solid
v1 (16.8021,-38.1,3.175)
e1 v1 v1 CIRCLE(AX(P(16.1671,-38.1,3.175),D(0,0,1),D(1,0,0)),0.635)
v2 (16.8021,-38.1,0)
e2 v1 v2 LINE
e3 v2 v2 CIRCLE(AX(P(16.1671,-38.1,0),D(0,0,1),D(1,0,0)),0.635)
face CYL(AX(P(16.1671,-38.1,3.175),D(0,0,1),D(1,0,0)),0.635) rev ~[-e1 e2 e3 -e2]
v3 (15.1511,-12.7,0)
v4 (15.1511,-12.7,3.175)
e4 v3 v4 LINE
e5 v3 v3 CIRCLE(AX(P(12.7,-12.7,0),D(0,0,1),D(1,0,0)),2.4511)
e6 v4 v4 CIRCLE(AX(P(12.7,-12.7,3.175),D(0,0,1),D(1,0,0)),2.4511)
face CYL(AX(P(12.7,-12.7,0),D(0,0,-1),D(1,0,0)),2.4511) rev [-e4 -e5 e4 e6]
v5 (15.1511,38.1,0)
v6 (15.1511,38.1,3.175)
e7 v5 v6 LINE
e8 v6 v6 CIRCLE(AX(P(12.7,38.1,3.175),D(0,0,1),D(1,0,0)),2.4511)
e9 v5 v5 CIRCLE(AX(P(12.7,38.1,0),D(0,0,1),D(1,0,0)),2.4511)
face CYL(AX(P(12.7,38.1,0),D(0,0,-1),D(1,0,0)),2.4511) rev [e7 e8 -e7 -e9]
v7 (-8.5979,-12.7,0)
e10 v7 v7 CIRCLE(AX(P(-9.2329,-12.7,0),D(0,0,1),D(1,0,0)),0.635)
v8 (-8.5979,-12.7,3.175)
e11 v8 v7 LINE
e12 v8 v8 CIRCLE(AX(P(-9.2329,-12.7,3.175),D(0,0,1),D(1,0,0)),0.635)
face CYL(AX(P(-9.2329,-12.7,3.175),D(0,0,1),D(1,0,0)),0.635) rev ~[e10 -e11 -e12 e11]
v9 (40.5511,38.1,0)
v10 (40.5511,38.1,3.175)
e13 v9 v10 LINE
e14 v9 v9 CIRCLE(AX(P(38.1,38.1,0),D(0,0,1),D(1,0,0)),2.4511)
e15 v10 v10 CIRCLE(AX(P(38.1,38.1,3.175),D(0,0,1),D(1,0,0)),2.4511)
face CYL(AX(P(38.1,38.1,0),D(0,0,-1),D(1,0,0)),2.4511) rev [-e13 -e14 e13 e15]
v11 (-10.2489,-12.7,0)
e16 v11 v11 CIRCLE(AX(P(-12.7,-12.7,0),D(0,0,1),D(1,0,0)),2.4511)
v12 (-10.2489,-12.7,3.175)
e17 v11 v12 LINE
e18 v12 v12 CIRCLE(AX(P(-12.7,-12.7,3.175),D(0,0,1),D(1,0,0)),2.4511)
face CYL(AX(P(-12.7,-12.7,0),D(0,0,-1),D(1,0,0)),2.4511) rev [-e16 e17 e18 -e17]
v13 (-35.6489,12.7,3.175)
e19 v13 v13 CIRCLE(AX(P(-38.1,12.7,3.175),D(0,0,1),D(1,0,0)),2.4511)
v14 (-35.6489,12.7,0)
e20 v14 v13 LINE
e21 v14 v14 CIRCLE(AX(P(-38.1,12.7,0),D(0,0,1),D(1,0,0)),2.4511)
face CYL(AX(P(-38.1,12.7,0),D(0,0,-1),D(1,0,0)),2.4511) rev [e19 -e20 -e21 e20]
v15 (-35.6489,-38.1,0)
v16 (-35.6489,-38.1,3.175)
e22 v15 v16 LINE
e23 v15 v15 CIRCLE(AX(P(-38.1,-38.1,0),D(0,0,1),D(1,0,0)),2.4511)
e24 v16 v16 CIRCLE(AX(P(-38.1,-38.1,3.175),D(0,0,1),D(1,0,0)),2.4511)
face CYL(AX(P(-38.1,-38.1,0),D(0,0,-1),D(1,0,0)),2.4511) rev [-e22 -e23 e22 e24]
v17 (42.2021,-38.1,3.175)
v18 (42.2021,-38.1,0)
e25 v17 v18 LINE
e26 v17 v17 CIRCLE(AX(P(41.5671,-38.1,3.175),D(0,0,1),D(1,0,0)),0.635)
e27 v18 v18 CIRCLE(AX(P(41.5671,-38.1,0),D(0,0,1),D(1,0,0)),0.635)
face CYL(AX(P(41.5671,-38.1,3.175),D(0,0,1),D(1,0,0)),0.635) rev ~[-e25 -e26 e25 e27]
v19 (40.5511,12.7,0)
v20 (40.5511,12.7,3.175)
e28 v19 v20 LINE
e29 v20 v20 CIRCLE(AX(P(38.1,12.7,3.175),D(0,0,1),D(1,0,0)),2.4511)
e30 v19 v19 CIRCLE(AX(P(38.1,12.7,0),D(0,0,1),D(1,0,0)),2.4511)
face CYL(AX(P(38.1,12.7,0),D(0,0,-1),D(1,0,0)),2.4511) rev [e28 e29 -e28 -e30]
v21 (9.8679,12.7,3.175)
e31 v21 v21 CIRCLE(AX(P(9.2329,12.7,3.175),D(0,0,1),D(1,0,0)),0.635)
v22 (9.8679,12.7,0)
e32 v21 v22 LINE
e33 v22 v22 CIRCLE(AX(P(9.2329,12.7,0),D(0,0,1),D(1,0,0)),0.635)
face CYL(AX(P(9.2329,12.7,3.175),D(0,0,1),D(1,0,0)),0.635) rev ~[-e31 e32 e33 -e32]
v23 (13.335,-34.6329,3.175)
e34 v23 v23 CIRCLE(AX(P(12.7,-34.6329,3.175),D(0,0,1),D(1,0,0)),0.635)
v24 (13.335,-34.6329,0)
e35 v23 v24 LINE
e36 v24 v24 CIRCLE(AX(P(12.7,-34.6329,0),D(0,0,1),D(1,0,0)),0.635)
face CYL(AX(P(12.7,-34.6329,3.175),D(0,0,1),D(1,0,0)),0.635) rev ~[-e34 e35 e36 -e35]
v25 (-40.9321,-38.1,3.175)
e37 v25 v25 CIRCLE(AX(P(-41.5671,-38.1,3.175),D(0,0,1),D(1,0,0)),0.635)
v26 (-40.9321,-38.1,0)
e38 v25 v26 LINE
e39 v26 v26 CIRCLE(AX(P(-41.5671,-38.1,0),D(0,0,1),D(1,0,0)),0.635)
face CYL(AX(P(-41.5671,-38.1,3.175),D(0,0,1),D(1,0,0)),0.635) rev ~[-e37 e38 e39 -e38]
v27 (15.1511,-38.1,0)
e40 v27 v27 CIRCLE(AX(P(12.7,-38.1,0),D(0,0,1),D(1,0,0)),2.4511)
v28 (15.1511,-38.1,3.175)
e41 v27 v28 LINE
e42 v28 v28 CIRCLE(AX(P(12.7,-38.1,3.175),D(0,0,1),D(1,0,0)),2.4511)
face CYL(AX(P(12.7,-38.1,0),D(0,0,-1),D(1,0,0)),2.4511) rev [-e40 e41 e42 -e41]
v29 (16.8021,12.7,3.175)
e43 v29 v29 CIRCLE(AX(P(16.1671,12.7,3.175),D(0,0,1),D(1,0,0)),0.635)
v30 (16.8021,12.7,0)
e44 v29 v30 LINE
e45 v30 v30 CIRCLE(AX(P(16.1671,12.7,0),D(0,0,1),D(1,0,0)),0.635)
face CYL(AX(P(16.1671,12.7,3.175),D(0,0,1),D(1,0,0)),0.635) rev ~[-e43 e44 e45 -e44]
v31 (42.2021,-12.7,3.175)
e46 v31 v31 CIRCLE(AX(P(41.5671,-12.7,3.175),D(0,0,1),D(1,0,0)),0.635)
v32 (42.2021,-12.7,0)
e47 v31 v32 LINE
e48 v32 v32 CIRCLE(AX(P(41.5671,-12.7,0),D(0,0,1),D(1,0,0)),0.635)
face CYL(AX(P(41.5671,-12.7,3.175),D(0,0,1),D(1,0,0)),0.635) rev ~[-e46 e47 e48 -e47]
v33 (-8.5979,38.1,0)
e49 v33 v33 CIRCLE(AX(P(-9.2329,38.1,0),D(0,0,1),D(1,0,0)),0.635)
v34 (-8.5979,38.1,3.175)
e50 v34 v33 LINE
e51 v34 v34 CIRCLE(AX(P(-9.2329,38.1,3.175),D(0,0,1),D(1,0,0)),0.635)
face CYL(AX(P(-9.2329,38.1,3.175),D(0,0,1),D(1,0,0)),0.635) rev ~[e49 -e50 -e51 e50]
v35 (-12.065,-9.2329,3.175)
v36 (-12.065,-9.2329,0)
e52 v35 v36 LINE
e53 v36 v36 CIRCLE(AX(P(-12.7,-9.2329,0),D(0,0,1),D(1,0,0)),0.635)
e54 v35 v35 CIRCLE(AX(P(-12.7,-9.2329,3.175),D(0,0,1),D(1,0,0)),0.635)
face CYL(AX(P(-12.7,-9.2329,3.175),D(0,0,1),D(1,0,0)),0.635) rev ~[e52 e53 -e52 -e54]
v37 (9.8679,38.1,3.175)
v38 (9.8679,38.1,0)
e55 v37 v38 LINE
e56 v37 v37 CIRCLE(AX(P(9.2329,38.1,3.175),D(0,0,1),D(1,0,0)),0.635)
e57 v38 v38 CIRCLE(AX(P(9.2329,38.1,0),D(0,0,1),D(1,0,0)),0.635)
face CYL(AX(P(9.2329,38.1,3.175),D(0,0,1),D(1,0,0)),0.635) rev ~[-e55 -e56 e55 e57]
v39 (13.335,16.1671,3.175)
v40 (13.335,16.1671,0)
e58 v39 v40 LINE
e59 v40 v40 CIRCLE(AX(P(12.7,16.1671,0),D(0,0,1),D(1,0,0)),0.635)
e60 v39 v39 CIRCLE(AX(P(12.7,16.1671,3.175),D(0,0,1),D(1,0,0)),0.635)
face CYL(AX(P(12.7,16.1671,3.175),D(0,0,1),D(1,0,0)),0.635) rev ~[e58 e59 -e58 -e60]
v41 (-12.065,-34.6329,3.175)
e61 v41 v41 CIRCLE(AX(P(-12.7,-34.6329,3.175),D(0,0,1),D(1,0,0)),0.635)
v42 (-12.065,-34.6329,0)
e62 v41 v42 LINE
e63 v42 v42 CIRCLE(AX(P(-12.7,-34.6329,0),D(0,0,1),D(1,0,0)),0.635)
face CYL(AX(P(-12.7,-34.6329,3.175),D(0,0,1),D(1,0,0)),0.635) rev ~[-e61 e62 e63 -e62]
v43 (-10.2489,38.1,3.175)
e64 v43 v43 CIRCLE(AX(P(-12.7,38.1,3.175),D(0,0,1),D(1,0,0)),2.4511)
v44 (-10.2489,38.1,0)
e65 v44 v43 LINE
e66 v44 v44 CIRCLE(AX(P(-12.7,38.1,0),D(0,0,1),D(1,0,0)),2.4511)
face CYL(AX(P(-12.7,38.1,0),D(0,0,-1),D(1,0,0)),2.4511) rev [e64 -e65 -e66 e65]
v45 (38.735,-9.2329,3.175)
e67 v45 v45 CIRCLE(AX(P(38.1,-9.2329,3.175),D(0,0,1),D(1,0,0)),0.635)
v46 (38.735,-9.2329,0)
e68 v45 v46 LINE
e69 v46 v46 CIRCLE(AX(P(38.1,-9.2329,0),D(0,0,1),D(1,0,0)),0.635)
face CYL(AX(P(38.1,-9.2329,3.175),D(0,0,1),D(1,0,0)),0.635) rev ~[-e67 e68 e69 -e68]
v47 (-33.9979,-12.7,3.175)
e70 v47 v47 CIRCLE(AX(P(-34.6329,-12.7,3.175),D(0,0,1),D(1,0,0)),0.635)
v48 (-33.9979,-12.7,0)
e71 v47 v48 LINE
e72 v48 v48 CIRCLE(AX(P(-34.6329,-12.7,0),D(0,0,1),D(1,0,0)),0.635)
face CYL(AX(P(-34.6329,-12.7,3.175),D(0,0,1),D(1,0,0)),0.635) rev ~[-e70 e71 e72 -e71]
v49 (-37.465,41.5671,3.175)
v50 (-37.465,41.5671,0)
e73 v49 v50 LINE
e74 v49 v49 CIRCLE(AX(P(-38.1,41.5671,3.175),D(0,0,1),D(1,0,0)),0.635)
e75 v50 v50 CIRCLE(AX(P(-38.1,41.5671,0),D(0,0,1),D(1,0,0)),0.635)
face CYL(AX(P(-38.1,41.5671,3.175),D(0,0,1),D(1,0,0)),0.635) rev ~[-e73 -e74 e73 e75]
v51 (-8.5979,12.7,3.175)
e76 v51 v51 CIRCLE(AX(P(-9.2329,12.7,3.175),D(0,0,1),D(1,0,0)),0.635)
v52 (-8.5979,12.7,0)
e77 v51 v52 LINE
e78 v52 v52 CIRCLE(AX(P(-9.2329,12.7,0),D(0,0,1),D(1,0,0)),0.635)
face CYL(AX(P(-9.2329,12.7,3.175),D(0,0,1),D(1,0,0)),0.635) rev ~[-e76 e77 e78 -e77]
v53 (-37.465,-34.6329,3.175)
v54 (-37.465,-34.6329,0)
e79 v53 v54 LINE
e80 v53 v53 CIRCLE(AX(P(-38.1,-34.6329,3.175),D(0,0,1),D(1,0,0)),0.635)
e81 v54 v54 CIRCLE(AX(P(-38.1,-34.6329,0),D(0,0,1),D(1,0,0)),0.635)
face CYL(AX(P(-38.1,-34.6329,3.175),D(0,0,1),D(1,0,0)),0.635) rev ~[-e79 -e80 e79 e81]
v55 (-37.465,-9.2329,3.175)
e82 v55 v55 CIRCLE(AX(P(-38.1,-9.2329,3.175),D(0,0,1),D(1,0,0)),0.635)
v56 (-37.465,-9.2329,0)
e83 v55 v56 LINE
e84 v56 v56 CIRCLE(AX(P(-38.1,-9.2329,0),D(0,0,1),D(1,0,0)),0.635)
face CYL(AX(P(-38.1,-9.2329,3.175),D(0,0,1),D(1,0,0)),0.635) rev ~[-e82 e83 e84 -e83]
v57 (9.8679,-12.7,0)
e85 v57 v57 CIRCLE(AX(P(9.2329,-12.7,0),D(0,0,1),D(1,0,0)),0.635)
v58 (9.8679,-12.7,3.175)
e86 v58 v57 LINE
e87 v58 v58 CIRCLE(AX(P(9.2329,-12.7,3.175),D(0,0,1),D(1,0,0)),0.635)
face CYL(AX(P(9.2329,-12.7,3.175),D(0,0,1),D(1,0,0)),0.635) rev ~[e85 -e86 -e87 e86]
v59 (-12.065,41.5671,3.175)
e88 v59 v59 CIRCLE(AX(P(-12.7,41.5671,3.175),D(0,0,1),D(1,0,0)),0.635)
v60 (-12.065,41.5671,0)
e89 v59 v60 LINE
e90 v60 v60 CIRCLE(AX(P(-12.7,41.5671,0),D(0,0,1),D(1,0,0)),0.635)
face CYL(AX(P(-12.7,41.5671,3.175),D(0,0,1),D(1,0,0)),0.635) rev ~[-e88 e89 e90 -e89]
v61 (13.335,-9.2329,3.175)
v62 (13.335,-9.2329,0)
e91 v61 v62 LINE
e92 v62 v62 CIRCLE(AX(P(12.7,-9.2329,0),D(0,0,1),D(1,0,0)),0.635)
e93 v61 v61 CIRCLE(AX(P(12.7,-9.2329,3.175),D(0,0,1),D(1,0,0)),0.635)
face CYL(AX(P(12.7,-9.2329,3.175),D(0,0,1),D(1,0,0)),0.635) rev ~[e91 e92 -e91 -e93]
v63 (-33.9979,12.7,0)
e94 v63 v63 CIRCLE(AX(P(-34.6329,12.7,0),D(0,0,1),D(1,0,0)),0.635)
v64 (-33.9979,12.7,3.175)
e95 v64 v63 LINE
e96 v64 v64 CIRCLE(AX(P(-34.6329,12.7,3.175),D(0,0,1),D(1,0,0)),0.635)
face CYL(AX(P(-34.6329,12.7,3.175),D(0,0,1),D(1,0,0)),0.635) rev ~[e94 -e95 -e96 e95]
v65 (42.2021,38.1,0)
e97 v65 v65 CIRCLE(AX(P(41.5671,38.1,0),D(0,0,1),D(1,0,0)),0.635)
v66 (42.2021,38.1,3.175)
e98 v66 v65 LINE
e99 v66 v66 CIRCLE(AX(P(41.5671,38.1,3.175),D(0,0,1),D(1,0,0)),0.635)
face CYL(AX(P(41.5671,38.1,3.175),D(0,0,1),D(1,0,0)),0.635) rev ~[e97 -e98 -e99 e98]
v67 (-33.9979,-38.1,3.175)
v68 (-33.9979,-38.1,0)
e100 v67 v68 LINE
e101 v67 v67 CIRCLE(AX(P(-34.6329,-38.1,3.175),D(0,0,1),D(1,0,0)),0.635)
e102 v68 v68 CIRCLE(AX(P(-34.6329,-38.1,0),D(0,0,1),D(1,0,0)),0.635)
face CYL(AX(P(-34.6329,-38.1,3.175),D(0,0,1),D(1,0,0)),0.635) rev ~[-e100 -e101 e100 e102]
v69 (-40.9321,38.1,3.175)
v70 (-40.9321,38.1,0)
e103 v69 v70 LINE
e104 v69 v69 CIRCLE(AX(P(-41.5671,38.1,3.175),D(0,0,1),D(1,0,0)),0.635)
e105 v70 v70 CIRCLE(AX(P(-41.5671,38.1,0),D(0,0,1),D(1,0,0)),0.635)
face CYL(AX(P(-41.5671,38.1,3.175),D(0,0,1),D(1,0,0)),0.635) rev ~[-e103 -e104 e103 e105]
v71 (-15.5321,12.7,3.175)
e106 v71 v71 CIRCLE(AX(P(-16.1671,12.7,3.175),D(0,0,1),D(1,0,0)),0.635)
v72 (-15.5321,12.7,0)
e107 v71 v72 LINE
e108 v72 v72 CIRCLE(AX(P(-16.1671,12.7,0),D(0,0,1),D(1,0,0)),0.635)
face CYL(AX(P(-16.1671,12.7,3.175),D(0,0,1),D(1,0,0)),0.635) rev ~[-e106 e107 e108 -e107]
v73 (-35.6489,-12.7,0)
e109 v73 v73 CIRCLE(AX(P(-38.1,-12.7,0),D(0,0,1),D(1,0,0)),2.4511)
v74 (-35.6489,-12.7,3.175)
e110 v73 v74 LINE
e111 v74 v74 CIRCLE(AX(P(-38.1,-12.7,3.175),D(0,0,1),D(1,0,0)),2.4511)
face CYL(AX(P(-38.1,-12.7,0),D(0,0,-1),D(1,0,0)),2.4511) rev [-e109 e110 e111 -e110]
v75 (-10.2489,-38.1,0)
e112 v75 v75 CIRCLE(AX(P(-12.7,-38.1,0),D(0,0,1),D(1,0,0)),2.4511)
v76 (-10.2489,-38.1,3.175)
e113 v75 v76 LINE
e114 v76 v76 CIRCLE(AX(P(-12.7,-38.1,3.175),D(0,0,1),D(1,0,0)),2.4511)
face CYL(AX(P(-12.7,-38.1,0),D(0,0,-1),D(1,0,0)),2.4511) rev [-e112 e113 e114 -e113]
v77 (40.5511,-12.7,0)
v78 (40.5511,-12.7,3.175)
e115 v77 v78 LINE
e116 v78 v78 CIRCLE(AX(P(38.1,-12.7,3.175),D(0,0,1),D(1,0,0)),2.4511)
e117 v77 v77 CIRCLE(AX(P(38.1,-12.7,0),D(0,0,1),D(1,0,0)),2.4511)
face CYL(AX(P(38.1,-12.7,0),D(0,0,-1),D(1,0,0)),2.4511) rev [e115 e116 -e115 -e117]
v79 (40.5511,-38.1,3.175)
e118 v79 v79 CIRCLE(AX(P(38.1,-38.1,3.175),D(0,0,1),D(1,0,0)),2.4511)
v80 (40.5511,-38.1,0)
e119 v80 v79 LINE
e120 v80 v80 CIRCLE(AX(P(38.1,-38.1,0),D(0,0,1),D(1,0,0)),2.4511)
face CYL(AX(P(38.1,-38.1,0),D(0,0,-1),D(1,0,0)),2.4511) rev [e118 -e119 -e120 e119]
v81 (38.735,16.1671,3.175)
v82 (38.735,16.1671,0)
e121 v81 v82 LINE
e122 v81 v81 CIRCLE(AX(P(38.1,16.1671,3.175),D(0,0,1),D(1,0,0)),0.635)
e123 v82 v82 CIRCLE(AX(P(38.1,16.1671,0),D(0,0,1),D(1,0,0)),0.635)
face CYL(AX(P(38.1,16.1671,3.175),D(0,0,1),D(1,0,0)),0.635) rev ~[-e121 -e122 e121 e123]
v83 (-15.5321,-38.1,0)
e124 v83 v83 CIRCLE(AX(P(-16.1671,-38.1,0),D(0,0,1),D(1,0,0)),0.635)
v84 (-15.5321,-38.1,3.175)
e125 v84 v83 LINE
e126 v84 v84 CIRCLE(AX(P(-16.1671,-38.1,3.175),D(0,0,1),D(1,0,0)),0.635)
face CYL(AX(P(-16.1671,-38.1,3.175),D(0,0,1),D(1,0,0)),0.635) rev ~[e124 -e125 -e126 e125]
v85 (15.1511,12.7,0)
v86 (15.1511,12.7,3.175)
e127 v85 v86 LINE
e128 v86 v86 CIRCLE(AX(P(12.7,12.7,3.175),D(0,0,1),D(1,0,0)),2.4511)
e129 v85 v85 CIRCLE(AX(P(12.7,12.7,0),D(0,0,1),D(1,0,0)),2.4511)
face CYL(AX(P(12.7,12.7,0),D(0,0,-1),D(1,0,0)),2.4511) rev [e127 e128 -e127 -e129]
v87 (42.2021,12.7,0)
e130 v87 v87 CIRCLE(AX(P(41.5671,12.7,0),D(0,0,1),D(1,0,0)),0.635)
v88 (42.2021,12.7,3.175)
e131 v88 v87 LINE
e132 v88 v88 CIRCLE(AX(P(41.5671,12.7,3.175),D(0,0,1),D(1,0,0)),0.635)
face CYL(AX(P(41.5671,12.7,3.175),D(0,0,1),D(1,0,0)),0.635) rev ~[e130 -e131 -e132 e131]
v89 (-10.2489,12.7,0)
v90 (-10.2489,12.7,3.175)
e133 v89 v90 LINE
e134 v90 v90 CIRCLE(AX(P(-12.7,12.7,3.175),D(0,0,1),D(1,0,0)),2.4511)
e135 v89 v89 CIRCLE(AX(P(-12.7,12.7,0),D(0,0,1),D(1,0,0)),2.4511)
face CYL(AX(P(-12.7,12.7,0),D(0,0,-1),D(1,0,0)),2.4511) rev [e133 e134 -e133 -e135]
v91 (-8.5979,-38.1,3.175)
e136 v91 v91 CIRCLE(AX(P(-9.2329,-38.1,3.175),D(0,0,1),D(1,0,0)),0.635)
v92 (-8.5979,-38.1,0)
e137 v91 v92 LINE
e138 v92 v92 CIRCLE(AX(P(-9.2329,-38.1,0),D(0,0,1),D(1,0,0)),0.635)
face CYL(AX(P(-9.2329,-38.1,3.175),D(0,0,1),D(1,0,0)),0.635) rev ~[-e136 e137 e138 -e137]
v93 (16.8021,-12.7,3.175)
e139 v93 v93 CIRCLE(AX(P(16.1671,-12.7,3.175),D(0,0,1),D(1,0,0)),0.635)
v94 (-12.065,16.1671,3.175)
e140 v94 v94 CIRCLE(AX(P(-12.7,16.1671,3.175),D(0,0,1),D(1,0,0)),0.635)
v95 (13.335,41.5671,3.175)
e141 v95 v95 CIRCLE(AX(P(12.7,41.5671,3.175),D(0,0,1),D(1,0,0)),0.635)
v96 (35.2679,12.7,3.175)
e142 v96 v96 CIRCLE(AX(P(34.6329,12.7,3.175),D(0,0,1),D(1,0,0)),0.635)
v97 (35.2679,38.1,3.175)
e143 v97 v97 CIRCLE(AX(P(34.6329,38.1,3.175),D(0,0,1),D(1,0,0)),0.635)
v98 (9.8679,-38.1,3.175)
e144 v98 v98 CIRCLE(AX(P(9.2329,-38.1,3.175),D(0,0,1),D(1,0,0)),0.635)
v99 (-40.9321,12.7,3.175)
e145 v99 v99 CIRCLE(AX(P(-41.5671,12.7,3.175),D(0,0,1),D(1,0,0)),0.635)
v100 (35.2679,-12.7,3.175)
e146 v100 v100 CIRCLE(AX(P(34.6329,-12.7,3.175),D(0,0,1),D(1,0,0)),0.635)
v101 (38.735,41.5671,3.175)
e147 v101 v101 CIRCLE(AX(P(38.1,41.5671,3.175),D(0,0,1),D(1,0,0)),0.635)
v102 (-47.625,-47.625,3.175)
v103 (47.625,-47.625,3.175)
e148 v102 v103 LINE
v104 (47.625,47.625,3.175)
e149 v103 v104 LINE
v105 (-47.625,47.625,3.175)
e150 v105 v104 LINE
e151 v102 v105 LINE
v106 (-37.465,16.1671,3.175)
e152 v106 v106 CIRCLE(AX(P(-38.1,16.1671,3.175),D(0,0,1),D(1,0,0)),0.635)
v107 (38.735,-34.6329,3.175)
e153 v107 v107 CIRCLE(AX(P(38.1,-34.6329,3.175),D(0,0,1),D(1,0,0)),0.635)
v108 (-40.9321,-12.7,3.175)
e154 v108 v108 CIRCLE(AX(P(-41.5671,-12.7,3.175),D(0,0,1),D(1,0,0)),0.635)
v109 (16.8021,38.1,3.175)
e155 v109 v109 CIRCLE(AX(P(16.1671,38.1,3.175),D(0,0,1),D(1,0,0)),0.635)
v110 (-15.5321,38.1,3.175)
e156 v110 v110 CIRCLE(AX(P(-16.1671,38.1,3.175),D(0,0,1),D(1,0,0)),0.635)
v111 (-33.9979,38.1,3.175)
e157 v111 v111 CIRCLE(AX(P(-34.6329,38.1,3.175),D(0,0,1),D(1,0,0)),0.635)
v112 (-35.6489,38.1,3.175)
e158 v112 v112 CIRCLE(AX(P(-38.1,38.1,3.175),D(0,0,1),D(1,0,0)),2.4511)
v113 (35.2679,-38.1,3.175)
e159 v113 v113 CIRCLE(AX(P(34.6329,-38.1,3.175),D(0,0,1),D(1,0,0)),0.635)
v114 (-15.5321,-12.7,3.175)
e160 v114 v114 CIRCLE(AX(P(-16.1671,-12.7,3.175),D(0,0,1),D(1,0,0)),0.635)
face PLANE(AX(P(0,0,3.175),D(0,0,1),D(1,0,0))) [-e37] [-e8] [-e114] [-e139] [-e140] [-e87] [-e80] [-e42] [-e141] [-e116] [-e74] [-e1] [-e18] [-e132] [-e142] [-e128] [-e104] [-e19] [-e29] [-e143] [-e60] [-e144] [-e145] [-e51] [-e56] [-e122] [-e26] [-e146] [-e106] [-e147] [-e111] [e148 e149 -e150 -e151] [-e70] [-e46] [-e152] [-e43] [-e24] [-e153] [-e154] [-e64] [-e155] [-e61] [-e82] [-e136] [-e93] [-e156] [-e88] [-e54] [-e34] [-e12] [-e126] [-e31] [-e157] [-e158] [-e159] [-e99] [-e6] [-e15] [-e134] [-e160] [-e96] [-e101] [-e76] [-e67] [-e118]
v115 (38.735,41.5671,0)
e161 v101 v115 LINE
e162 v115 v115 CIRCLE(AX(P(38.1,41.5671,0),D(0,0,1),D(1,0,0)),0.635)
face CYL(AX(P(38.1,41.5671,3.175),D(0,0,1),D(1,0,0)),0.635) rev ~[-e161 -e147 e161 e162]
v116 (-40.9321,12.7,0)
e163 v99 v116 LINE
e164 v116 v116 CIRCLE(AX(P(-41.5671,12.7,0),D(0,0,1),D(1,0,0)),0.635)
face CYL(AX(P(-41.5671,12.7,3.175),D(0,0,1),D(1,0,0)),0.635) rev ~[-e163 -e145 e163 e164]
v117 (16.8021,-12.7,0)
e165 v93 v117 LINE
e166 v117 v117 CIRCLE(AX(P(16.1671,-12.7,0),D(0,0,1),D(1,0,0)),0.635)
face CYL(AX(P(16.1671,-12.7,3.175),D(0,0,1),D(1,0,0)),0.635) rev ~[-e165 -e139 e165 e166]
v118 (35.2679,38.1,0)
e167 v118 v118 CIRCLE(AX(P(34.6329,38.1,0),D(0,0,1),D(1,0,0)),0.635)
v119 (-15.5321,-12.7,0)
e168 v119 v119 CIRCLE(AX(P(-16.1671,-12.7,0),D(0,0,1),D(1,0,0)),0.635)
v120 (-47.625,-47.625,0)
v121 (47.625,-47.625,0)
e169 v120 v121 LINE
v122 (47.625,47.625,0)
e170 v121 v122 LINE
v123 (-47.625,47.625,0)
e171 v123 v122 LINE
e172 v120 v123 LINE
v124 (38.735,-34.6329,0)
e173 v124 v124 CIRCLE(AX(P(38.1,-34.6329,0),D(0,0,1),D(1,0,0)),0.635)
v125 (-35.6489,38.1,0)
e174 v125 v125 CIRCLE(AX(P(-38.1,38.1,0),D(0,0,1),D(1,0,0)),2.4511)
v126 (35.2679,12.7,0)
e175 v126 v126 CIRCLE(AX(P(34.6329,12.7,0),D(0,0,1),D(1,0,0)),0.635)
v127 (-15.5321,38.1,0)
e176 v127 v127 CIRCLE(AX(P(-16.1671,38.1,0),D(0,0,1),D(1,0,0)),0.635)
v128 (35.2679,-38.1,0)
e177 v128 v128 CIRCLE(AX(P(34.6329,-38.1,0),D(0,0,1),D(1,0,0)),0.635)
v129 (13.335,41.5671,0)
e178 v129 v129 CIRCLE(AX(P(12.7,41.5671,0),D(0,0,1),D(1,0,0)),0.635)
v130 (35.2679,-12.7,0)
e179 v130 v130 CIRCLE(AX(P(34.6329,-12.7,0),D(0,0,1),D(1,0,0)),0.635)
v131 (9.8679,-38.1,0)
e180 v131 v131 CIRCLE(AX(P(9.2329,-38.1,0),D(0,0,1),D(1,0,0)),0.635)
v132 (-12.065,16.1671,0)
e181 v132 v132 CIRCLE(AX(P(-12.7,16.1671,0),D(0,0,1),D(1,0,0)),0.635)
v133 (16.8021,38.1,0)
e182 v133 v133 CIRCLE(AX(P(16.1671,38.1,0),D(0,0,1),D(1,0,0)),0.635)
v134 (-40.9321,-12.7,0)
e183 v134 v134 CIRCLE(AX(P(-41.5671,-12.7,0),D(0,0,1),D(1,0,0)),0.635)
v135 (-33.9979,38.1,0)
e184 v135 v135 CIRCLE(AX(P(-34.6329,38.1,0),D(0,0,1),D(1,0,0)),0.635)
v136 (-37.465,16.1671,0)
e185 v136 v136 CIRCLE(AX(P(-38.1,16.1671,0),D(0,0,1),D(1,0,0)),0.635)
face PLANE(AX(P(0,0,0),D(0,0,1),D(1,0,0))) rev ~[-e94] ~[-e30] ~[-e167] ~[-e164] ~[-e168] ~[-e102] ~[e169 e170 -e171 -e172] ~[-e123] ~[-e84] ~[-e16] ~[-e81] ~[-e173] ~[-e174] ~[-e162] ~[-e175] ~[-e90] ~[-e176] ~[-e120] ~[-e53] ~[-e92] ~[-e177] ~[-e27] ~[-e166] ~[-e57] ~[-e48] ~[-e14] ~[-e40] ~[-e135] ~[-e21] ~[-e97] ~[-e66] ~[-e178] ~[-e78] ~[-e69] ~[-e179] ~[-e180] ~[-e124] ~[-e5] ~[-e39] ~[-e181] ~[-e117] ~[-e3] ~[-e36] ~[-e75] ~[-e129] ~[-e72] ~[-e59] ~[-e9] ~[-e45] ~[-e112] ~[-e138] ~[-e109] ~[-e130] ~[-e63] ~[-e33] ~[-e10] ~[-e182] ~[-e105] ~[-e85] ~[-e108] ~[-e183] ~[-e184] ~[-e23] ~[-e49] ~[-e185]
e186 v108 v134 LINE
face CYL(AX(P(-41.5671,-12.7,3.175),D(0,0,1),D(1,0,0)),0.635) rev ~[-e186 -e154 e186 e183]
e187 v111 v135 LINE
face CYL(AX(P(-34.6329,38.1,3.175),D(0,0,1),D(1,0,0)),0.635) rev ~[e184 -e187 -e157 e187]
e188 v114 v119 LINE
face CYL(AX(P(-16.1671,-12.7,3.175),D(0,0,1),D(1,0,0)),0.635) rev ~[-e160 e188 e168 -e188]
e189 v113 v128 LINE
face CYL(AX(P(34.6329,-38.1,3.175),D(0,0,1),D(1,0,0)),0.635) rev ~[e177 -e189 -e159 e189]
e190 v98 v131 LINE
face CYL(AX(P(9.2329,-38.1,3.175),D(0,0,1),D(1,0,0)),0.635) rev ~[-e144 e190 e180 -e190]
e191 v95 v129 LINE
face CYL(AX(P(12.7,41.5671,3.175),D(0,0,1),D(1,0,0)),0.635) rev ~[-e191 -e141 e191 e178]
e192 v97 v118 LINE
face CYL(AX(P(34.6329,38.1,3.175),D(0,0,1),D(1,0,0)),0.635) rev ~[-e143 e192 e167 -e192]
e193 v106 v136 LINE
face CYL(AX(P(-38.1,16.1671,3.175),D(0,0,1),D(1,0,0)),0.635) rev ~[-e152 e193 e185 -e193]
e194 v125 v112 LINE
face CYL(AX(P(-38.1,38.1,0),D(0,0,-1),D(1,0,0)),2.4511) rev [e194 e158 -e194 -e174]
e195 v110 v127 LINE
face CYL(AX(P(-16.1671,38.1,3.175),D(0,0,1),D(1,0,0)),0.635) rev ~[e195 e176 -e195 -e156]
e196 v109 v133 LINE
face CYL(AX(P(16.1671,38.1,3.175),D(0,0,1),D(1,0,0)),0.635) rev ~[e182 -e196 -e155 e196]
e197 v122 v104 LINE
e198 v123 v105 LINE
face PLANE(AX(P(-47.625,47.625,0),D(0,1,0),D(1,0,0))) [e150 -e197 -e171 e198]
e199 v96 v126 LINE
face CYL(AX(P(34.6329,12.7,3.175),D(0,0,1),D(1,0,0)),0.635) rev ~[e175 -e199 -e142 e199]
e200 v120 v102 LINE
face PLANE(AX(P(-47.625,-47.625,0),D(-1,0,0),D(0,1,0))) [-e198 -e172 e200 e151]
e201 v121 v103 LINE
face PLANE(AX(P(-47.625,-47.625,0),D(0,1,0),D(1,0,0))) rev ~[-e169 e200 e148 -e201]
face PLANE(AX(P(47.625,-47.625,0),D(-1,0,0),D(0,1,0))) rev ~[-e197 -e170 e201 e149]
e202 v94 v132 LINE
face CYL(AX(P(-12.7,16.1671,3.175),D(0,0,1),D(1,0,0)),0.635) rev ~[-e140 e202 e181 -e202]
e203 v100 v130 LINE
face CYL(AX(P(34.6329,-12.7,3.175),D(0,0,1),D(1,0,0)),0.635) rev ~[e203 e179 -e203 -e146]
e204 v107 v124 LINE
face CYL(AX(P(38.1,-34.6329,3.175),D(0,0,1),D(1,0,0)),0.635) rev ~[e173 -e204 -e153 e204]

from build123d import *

# Parameters (mm, degrees)
F0_W     = 95.25
F0_H     = 95.25
F0_R     = 2.4511
F1_DEPTH = 3.175
F2_R     = 0.635
F3_DEPTH = 5.08


with BuildPart() as f1:
    # F0 (on Top) → F1 (new body)
    with BuildSketch(Plane.XY):
        Rectangle(F0_W, F0_H)
        with Locations((-38.1, -38.1)):
            Circle(F0_R, mode=Mode.SUBTRACT)
        with Locations((-12.7, -38.1)):
            Circle(F0_R, mode=Mode.SUBTRACT)
        with Locations((-38.1, -12.7)):
            Circle(F0_R, mode=Mode.SUBTRACT)
        with Locations((-12.7, -12.7)):
            Circle(F0_R, mode=Mode.SUBTRACT)
        with Locations((12.7, -38.1)):
            Circle(F0_R, mode=Mode.SUBTRACT)
        with Locations((38.1, -38.1)):
            Circle(F0_R, mode=Mode.SUBTRACT)
        with Locations((12.7, -12.7)):
            Circle(F0_R, mode=Mode.SUBTRACT)
        with Locations((38.1, -12.7)):
            Circle(F0_R, mode=Mode.SUBTRACT)
        with Locations((-38.1, 12.7)):
            Circle(F0_R, mode=Mode.SUBTRACT)
        with Locations((-12.7, 12.7)):
            Circle(F0_R, mode=Mode.SUBTRACT)
        with Locations((-38.1, 38.1)):
            Circle(F0_R, mode=Mode.SUBTRACT)
        with Locations((-12.7, 38.1)):
            Circle(F0_R, mode=Mode.SUBTRACT)
        with Locations((12.7, 12.7)):
            Circle(F0_R, mode=Mode.SUBTRACT)
        with Locations((38.1, 12.7)):
            Circle(F0_R, mode=Mode.SUBTRACT)
        with Locations((12.7, 38.1)):
            Circle(F0_R, mode=Mode.SUBTRACT)
        with Locations((38.1, 38.1)):
            Circle(F0_R, mode=Mode.SUBTRACT)
    extrude(amount=F1_DEPTH)

    # F2 (on face) → F3 (cut)
    with BuildSketch(Plane.XY.offset(3.175)):
        with Locations((-41.5671, 38.1)):
            Circle(F2_R)
        with Locations((-38.1, 41.5671)):
            Circle(F2_R)
        with Locations((-34.6329, 38.1)):
            Circle(F2_R)
        with Locations((-41.5671, 12.7)):
            Circle(F2_R)
        with Locations((-38.1, 16.1671)):
            Circle(F2_R)
        with Locations((-34.6329, 12.7)):
            Circle(F2_R)
        with Locations((-41.5671, -12.7)):
            Circle(F2_R)
        with Locations((-38.1, -9.2329)):
            Circle(F2_R)
        with Locations((-34.6329, -12.7)):
            Circle(F2_R)
        with Locations((-41.5671, -38.1)):
            Circle(F2_R)
        with Locations((-38.1, -34.6329)):
            Circle(F2_R)
        with Locations((-34.6329, -38.1)):
            Circle(F2_R)
        with Locations((-16.1671, 38.1)):
            Circle(F2_R)
        with Locations((-12.7, 41.5671)):
            Circle(F2_R)
        with Locations((-9.2329, 38.1)):
            Circle(F2_R)
        with Locations((-16.1671, 12.7)):
            Circle(F2_R)
        with Locations((-12.7, 16.1671)):
            Circle(F2_R)
        with Locations((-9.2329, 12.7)):
            Circle(F2_R)
        with Locations((-16.1671, -12.7)):
            Circle(F2_R)
        with Locations((-12.7, -9.2329)):
            Circle(F2_R)
        with Locations((-9.2329, -12.7)):
            Circle(F2_R)
        with Locations((-16.1671, -38.1)):
            Circle(F2_R)
        with Locations((-12.7, -34.6329)):
            Circle(F2_R)
        with Locations((-9.2329, -38.1)):
            Circle(F2_R)
        with Locations((9.2329, 38.1)):
            Circle(F2_R)
        with Locations((12.7, 41.5671)):
            Circle(F2_R)
        with Locations((16.1671, 38.1)):
            Circle(F2_R)
        with Locations((9.2329, 12.7)):
            Circle(F2_R)
        with Locations((12.7, 16.1671)):
            Circle(F2_R)
        with Locations((16.1671, 12.7)):
            Circle(F2_R)
        with Locations((9.2329, -12.7)):
            Circle(F2_R)
        with Locations((12.7, -9.2329)):
            Circle(F2_R)
        with Locations((16.1671, -12.7)):
            Circle(F2_R)
        with Locations((9.2329, -38.1)):
            Circle(F2_R)
        with Locations((12.7, -34.6329)):
            Circle(F2_R)
        with Locations((16.1671, -38.1)):
            Circle(F2_R)
        with Locations((34.6329, 38.1)):
            Circle(F2_R)
        with Locations((38.1, 41.5671)):
            Circle(F2_R)
        with Locations((41.5671, 38.1)):
            Circle(F2_R)
        with Locations((34.6329, 12.7)):
            Circle(F2_R)
        with Locations((38.1, 16.1671)):
            Circle(F2_R)
        with Locations((41.5671, 12.7)):
            Circle(F2_R)
        with Locations((34.6329, -12.7)):
            Circle(F2_R)
        with Locations((38.1, -9.2329)):
            Circle(F2_R)
        with Locations((41.5671, -12.7)):
            Circle(F2_R)
        with Locations((34.6329, -38.1)):
            Circle(F2_R)
        with Locations((38.1, -34.6329)):
            Circle(F2_R)
        with Locations((41.5671, -38.1)):
            Circle(F2_R)
    extrude(amount=-F3_DEPTH, mode=Mode.SUBTRACT)


solid = f1.part
